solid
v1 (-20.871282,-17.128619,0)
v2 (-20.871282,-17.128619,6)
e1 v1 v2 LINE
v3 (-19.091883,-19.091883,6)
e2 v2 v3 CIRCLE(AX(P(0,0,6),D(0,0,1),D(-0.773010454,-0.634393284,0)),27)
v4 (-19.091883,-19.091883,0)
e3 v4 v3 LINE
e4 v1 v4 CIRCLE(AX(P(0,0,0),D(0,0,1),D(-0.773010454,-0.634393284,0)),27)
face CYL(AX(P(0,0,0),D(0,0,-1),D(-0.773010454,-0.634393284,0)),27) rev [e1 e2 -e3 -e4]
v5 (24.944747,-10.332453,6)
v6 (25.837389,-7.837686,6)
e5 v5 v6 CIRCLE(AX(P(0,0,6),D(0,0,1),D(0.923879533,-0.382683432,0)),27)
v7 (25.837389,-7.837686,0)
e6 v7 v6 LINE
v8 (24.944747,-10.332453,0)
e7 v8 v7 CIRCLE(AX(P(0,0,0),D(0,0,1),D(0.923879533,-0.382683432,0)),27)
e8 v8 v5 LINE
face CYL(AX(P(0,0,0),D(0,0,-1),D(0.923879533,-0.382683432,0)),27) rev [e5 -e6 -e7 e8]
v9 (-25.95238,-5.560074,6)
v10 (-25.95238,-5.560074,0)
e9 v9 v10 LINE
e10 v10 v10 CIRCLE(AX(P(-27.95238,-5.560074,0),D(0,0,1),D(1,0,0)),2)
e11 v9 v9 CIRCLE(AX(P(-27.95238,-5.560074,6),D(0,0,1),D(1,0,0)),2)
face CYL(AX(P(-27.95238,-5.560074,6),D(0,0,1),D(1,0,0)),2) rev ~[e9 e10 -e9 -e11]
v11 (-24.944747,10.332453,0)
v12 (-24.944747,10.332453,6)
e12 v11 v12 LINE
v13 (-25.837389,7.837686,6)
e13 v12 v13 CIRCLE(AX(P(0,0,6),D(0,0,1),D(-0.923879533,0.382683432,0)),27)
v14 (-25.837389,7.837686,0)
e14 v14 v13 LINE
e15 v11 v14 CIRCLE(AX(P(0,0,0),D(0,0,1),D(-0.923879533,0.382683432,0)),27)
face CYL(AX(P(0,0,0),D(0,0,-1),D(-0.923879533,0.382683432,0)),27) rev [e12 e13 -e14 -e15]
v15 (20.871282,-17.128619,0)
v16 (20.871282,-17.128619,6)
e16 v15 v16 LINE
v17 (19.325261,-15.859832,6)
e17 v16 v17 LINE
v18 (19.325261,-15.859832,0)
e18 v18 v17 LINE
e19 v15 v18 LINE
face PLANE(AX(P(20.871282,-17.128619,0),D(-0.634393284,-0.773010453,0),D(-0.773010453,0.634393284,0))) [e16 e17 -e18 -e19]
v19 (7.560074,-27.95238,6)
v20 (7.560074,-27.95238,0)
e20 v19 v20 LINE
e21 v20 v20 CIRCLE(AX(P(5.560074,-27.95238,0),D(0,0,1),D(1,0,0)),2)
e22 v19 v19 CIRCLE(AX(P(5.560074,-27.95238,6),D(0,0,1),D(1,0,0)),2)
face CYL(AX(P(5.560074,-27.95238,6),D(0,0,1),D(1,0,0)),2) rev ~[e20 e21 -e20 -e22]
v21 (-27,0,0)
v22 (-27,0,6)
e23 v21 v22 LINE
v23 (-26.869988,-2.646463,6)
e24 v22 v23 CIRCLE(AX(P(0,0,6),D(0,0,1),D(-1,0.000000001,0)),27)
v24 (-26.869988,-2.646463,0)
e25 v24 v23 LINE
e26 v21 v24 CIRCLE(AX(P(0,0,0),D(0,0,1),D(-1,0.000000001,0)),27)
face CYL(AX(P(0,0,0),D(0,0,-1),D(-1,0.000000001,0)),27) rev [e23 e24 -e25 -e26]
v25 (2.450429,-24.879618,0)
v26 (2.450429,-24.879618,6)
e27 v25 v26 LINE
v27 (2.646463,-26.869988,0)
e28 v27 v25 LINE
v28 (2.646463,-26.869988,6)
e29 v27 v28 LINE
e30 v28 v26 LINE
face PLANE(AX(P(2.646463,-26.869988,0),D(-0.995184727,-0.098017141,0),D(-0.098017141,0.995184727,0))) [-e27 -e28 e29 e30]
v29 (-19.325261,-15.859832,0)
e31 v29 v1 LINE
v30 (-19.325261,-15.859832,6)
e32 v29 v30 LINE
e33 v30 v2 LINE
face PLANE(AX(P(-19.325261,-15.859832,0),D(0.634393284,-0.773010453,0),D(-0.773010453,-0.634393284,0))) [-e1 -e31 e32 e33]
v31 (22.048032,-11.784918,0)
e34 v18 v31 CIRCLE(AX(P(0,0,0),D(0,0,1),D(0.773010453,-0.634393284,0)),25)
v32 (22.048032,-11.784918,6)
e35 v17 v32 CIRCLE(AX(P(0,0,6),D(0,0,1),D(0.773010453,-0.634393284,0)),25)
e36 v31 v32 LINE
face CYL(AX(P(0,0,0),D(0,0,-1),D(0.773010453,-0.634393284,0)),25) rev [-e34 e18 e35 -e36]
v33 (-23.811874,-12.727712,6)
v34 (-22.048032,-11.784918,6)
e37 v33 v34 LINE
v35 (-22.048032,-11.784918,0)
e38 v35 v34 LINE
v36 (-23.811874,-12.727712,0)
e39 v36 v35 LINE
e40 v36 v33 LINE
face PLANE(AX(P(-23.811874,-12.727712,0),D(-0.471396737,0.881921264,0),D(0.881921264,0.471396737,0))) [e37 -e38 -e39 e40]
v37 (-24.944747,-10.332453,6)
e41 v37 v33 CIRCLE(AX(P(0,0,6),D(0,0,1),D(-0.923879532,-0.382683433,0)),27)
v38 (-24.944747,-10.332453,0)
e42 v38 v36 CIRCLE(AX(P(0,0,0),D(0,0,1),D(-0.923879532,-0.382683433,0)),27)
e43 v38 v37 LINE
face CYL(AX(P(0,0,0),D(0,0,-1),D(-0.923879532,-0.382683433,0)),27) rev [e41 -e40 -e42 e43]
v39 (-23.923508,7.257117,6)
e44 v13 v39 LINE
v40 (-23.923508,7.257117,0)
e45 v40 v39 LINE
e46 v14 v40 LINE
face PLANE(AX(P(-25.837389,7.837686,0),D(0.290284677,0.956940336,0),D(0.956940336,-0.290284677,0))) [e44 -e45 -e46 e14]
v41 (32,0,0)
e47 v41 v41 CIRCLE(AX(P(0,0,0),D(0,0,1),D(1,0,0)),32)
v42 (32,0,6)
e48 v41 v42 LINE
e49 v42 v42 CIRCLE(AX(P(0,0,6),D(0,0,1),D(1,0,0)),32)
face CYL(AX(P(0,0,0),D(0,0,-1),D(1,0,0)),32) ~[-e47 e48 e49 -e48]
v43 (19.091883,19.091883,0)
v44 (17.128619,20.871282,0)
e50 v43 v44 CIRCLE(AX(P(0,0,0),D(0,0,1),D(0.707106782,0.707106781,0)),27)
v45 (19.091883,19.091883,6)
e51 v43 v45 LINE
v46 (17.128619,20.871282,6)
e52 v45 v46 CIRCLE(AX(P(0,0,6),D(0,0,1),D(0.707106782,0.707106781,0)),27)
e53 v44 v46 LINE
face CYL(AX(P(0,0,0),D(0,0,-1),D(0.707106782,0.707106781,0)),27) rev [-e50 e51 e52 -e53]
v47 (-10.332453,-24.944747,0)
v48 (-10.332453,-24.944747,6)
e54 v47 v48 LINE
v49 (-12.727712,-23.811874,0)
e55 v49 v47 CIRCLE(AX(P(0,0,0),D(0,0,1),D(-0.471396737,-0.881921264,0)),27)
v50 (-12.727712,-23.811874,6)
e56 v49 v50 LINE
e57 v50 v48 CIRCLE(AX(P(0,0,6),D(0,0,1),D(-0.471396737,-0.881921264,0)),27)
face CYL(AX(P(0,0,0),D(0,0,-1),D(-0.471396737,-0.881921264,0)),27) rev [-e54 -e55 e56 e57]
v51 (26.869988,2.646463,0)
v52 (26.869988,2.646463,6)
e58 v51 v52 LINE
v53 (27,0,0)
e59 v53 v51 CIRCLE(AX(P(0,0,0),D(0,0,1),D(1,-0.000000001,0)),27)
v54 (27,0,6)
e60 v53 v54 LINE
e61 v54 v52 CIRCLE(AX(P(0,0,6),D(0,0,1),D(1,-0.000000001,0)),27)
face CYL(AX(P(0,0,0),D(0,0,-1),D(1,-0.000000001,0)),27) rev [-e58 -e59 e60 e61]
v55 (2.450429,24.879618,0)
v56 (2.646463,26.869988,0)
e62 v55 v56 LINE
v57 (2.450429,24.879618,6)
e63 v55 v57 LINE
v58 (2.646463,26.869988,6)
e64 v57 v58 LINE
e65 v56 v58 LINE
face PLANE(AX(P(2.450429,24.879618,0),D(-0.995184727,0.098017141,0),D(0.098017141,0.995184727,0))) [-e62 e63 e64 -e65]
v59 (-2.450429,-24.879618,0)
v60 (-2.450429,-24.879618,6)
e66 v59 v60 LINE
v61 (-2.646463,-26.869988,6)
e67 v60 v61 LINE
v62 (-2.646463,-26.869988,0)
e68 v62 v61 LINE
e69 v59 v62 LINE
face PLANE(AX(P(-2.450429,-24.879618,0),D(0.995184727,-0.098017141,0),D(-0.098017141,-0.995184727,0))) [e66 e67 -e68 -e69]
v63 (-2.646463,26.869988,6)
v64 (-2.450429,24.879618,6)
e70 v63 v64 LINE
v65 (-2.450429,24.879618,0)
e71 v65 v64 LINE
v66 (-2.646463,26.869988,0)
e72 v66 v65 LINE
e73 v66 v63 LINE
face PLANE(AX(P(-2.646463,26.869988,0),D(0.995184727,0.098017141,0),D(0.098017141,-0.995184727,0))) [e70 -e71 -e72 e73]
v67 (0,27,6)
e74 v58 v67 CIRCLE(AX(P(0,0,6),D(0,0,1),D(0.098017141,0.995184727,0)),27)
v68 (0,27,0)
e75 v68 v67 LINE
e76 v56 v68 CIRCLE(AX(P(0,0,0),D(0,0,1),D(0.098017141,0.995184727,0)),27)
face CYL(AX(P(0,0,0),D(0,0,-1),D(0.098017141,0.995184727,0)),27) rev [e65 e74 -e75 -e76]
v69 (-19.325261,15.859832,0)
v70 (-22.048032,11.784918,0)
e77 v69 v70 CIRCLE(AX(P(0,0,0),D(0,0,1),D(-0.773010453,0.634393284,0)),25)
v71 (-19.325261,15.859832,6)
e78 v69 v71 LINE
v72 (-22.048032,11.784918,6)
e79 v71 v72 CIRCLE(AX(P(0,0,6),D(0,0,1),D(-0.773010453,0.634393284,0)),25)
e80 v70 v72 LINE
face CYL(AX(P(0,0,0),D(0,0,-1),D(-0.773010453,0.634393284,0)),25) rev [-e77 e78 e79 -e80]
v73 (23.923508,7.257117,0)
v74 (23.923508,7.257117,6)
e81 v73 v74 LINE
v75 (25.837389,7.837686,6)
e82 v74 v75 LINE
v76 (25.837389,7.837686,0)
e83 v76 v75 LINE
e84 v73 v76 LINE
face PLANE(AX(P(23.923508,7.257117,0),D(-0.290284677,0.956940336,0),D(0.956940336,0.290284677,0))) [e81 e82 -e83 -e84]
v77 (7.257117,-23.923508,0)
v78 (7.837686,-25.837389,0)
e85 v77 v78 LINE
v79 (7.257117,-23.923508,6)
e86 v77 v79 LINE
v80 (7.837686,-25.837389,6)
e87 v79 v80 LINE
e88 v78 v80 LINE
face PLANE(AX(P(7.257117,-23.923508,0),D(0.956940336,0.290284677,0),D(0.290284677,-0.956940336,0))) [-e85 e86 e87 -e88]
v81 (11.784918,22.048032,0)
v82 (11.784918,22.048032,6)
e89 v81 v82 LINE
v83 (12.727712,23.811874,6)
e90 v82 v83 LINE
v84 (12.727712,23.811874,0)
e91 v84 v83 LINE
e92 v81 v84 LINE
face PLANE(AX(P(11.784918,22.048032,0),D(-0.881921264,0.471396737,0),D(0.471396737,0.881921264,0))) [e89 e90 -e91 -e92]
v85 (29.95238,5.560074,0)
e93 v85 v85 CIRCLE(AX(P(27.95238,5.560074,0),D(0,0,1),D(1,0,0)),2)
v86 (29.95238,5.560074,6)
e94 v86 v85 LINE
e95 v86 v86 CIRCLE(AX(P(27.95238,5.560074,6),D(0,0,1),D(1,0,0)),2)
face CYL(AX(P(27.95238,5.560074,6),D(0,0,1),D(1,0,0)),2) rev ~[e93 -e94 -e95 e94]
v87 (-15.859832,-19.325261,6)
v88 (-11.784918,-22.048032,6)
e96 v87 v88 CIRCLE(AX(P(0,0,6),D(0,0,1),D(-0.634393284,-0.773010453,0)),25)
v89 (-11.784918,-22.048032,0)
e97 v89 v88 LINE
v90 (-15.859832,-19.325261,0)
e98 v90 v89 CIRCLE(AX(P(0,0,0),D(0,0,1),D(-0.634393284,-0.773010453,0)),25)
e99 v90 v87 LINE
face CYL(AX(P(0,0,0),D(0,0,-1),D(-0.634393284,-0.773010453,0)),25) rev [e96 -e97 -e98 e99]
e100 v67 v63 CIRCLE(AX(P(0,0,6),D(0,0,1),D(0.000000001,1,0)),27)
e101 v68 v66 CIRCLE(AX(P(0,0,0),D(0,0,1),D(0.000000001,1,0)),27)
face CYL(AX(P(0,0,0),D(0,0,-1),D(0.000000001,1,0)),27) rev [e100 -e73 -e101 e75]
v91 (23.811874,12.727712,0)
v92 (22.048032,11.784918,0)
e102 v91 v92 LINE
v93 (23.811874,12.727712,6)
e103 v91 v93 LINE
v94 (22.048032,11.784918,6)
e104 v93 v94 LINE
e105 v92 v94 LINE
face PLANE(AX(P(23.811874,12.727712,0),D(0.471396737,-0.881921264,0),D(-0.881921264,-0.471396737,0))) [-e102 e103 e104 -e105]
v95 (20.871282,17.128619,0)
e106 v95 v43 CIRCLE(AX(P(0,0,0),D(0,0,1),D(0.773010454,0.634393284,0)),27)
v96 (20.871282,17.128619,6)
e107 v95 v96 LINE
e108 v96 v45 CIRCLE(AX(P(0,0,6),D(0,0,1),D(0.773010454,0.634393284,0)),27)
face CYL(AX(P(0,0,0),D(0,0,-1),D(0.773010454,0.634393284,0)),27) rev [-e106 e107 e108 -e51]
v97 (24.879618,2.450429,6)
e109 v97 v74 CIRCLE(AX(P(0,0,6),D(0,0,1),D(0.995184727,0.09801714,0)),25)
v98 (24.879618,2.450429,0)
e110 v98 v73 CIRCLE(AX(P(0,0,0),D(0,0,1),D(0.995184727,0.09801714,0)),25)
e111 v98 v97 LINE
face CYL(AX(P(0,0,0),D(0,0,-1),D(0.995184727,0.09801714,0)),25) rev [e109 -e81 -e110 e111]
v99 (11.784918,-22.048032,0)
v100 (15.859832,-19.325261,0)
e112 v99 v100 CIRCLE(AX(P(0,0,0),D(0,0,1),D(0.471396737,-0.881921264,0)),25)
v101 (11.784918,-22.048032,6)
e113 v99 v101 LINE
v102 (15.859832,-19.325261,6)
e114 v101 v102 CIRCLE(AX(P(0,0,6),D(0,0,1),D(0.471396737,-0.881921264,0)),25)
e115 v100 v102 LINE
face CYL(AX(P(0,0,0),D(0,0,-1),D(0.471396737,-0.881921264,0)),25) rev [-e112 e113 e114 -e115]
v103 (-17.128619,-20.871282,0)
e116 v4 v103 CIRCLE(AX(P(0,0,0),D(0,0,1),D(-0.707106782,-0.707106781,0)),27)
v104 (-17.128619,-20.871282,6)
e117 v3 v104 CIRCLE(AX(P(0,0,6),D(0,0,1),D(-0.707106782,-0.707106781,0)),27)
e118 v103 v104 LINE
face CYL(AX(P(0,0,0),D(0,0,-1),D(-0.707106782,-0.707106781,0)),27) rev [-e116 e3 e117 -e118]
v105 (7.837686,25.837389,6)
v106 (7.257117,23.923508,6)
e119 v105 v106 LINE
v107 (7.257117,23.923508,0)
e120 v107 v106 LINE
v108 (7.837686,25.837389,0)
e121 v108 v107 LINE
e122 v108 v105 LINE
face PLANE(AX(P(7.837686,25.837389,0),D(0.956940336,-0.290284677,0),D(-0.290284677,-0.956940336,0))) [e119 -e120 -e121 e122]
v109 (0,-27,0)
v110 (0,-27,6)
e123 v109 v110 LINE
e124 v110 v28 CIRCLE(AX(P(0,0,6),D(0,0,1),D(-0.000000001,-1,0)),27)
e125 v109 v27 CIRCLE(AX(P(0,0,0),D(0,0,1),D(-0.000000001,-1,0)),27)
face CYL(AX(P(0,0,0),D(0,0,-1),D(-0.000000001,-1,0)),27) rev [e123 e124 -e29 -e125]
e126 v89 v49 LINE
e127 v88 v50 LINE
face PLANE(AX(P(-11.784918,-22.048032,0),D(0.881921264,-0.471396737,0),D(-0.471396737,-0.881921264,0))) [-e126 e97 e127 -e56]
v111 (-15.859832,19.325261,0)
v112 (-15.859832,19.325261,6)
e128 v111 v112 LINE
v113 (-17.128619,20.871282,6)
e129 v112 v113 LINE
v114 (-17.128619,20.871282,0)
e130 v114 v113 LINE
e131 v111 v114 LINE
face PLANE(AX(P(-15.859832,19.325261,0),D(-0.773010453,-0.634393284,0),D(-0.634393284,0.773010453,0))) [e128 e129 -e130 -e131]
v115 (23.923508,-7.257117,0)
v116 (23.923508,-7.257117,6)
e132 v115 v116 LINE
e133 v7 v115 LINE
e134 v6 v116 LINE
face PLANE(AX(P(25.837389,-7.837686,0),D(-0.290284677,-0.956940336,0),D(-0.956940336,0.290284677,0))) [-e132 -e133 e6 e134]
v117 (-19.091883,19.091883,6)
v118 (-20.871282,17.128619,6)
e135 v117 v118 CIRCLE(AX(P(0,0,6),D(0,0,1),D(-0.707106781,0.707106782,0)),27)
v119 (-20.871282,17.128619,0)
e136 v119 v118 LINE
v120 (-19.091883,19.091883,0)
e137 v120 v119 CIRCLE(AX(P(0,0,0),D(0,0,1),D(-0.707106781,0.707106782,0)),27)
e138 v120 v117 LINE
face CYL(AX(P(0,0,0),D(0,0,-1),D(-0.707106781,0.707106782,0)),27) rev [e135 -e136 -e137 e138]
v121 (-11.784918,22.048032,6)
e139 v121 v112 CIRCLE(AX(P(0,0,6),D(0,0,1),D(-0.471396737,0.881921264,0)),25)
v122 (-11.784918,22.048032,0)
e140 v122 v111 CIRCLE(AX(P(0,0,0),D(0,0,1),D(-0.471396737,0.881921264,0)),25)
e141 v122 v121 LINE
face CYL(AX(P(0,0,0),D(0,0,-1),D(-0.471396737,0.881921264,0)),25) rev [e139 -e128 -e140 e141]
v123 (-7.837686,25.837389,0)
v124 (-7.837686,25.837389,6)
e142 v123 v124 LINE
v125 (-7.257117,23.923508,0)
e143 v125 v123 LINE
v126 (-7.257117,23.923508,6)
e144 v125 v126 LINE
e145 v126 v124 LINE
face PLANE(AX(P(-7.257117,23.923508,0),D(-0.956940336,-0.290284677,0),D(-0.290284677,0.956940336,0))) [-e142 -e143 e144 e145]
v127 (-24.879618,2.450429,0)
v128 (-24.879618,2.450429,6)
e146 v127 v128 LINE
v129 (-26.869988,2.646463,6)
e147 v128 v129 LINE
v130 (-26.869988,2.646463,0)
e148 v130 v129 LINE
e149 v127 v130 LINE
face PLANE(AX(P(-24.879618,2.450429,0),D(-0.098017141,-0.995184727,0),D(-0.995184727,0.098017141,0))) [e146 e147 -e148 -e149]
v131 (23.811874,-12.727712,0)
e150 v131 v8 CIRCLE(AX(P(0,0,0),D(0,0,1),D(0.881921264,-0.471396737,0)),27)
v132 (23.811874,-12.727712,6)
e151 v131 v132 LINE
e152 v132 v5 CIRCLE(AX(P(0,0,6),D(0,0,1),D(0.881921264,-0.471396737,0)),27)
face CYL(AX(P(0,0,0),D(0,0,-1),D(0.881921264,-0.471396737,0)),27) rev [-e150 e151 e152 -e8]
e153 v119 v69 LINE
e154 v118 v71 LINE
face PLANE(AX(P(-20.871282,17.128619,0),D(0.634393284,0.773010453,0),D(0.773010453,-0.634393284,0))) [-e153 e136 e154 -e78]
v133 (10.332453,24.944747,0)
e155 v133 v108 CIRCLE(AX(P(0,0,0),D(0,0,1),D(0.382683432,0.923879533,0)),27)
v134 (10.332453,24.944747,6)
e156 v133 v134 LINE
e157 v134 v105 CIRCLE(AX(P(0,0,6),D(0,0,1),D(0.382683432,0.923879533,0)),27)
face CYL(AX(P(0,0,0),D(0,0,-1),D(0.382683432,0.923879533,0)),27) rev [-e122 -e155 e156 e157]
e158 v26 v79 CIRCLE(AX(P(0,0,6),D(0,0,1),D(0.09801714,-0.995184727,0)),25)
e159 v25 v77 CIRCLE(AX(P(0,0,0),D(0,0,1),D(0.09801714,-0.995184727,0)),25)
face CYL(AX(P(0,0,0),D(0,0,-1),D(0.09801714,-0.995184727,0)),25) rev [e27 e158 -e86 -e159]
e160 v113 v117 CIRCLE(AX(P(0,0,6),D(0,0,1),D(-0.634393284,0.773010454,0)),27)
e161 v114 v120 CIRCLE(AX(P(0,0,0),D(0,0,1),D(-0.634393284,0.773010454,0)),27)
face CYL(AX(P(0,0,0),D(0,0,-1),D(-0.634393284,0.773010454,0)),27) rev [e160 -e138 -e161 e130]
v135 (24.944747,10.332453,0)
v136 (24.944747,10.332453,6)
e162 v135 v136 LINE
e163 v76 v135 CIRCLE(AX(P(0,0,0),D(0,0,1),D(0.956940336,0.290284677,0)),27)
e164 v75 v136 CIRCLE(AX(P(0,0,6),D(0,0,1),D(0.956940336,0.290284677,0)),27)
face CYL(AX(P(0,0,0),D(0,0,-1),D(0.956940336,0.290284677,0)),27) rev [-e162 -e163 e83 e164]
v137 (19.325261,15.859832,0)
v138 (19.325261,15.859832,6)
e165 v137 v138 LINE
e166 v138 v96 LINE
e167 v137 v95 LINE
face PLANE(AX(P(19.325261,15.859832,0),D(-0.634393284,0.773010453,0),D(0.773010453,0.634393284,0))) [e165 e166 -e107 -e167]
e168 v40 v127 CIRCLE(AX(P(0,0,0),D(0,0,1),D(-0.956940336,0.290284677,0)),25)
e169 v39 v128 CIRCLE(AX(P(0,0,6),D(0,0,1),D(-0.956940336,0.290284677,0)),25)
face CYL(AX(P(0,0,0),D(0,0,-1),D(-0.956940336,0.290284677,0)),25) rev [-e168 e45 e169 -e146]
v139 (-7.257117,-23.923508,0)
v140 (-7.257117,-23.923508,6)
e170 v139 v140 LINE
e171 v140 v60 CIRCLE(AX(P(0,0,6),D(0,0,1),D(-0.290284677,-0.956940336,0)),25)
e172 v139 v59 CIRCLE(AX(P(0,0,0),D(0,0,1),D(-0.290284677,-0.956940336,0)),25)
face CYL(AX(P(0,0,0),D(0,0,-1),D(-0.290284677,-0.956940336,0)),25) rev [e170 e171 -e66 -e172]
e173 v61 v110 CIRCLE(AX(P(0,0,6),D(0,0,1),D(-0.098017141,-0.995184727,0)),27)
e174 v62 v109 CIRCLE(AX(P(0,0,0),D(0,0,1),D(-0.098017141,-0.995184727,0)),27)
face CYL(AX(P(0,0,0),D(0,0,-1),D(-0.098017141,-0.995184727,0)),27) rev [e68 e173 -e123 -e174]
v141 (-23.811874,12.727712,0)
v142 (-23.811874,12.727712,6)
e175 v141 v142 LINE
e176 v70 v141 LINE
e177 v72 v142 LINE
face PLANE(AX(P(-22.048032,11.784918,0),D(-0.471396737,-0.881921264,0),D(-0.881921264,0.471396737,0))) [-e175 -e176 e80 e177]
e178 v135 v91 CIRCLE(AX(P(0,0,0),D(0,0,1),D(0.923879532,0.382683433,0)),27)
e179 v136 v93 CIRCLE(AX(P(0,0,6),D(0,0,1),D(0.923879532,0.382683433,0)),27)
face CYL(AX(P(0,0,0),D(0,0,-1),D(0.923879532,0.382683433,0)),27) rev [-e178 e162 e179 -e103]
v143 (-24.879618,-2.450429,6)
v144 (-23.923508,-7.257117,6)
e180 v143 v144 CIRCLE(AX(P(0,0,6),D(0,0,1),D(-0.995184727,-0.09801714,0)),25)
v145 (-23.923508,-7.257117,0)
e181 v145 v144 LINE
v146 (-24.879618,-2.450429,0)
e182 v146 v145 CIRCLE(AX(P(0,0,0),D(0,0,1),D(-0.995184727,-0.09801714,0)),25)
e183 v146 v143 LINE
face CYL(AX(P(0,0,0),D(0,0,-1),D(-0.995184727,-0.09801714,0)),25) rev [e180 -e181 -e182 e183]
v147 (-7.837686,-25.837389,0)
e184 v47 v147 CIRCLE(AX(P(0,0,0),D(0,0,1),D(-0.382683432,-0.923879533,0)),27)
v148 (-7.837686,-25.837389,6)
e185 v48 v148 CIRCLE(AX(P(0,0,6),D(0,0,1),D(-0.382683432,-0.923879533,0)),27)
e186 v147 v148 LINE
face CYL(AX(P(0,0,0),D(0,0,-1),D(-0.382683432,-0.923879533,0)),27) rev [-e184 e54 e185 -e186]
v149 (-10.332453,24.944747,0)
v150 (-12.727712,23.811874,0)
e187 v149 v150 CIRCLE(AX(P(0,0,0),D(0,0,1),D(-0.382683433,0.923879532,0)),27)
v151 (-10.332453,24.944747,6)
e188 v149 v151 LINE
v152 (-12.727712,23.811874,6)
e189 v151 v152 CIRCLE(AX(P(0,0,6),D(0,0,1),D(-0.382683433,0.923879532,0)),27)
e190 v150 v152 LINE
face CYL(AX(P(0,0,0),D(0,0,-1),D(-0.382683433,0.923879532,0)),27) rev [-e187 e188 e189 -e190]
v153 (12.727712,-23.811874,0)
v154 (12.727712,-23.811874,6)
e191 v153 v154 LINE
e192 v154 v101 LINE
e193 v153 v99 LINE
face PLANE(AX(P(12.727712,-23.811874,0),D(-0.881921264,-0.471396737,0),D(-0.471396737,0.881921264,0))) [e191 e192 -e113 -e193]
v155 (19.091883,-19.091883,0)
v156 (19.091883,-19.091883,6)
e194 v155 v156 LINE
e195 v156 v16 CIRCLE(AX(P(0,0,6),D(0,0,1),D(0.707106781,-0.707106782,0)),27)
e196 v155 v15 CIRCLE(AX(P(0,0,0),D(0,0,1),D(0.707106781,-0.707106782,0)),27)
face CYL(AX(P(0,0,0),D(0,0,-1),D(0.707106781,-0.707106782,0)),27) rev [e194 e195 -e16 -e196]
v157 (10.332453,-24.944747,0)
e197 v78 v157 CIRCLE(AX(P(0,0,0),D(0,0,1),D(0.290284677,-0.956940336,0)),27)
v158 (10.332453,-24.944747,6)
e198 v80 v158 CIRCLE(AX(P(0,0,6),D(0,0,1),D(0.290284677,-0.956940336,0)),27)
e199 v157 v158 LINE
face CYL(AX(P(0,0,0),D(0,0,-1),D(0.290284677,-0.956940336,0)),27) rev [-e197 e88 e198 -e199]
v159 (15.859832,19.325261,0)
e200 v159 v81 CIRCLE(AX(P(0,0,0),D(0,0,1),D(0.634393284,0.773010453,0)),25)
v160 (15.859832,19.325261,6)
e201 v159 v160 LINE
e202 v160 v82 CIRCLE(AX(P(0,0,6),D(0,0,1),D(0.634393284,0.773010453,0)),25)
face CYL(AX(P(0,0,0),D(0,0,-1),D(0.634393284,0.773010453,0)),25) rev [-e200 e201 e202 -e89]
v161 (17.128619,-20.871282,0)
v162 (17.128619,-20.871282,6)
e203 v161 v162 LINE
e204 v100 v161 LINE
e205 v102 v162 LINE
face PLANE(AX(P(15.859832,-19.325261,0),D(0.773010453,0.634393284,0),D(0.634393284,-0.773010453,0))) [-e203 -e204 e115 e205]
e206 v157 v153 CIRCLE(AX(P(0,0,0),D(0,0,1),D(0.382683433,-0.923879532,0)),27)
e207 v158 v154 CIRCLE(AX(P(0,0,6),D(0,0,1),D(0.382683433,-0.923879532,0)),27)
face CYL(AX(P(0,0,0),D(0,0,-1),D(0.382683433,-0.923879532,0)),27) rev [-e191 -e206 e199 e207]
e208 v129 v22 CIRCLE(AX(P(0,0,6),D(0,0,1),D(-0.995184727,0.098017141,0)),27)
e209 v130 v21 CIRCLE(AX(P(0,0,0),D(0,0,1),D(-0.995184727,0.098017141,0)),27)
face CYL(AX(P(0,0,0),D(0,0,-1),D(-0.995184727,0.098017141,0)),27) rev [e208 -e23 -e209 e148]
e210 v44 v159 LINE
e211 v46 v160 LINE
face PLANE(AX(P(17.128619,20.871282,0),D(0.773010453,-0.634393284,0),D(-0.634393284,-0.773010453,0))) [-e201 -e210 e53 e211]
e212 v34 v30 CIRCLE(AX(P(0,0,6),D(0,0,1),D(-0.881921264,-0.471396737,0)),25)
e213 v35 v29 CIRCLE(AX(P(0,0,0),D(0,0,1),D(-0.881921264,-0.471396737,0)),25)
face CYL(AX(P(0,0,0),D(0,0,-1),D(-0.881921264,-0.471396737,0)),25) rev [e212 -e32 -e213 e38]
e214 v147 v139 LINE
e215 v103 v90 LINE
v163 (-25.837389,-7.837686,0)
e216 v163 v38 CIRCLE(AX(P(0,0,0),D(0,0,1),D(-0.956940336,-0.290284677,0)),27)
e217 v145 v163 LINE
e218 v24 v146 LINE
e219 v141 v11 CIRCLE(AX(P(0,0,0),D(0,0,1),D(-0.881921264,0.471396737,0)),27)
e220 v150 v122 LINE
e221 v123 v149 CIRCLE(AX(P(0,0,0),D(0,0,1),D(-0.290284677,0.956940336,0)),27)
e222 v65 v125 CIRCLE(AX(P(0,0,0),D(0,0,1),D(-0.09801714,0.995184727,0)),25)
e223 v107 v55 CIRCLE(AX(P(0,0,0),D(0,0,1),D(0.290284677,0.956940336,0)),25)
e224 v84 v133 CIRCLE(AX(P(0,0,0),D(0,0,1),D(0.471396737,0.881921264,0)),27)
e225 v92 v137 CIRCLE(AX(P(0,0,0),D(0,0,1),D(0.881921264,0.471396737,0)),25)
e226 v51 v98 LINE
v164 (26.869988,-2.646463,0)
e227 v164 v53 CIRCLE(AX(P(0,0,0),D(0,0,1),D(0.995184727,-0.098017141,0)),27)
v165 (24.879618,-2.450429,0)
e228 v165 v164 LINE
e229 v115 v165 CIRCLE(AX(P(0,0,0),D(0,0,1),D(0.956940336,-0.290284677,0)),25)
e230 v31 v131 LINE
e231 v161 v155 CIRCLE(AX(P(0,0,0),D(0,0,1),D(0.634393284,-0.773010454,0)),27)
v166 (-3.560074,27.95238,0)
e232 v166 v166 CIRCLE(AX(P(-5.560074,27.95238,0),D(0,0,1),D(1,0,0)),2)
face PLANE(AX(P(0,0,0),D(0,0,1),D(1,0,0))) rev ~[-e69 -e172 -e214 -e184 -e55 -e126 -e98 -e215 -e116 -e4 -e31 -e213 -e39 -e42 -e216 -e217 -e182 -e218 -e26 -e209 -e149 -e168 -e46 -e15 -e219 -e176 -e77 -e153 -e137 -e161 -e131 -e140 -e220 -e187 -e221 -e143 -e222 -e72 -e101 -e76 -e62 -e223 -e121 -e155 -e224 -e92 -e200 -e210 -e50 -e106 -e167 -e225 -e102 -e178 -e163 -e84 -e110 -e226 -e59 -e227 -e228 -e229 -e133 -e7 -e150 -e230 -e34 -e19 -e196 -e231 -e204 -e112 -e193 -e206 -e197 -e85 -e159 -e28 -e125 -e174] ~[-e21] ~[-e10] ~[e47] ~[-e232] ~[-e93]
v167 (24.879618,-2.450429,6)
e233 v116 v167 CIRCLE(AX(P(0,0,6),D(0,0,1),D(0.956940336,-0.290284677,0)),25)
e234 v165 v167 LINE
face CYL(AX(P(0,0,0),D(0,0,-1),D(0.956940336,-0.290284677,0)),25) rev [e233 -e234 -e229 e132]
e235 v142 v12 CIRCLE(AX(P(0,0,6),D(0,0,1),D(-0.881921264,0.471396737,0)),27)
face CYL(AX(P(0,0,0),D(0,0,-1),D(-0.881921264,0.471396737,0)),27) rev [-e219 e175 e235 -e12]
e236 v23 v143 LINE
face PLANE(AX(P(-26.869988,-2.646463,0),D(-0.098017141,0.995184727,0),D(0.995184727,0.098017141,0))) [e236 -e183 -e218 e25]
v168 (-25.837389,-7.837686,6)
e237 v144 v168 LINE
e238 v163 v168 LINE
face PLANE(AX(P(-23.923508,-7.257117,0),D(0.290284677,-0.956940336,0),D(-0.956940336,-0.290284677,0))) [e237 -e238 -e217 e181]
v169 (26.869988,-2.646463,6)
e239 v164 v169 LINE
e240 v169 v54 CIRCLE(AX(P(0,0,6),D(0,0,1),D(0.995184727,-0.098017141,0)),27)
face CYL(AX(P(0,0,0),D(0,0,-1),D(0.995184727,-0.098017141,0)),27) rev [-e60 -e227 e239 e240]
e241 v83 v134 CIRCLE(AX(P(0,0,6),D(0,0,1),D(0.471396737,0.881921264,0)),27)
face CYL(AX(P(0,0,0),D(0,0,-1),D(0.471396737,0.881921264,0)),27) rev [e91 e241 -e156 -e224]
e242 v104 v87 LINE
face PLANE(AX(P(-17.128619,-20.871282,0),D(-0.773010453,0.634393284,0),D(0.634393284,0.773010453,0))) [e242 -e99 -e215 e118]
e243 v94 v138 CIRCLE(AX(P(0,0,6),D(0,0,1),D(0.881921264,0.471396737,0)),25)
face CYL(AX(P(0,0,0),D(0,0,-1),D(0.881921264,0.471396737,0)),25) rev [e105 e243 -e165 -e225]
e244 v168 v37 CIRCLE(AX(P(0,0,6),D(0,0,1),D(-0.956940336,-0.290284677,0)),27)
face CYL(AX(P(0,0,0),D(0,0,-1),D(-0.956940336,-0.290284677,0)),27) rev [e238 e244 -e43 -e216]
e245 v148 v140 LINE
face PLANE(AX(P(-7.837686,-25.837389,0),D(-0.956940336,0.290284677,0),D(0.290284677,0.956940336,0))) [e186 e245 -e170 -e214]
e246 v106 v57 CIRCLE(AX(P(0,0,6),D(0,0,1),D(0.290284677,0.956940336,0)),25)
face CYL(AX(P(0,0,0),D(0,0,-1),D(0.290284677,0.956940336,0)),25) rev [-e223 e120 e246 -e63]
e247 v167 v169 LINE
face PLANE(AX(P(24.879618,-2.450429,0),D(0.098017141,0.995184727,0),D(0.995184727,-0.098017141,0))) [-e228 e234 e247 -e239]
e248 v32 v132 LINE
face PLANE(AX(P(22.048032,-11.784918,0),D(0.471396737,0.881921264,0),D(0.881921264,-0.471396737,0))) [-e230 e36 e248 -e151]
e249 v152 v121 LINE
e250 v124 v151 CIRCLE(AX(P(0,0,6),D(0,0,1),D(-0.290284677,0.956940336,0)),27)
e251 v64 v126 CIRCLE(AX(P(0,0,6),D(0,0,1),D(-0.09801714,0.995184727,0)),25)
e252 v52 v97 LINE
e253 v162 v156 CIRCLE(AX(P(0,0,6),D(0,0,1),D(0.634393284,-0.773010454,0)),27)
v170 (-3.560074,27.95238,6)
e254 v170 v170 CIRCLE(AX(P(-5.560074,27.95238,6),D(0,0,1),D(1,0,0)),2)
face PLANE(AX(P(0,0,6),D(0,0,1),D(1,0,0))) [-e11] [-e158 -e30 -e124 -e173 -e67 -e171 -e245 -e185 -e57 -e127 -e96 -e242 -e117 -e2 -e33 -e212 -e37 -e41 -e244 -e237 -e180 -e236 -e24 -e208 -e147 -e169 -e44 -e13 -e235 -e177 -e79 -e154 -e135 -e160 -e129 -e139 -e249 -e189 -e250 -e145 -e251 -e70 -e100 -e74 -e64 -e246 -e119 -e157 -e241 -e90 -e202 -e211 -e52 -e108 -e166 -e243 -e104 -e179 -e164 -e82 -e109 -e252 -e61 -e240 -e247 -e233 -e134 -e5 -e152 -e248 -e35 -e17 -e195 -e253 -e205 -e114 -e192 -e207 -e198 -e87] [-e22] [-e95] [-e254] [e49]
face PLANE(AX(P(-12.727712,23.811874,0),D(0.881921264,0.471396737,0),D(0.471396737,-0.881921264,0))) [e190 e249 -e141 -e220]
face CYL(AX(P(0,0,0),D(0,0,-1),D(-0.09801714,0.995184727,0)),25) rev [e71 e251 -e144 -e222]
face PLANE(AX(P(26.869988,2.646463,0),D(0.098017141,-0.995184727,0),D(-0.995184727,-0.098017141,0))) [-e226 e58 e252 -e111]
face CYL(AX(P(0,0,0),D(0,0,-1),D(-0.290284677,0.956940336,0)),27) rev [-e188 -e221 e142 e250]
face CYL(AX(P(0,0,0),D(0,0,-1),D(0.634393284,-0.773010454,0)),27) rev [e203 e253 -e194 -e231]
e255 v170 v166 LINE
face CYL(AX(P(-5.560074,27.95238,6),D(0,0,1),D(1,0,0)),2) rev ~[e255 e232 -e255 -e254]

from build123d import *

# Parameters (mm, degrees)
ESBO_O1_R                = 32
RESSALTO_EXTRUS_O4_DEPTH = 6
ESBO_O2_R                = 2
CORTE_EXTRUS_O1_DEPTH    = 6


with BuildPart() as part:
    # Esboço1 → Ressalto-extrusão4 (new body)
    with BuildSketch(Plane.XY):
        Circle(ESBO_O1_R)
        with BuildLine():
            Line((-2.646462789, 26.86998762), (-2.450428508, 24.879618167))
            ThreePointArc((-2.450428508, 24.879618167), (-4.87725805, 24.51963201), (-7.257116931, 23.923508393))
            Line((-7.257116931, 23.923508393), (-7.837686286, 25.837389065))
            ThreePointArc((-7.837686286, 25.837389065), (-9.096026042, 25.42168976), (-10.332452674, 24.944747378))
            ThreePointArc((-10.332452674, 24.944747378), (-11.543987523, 24.407710914), (-12.727711894, 23.811874137))
            Line((-12.727711894, 23.811874137), (-11.784918421, 22.048031609))
            ThreePointArc((-11.784918421, 22.048031609), (-13.889255825, 20.786740308), (-15.859832104, 19.325261334))
            Line((-15.859832104, 19.325261334), (-17.128618672, 20.871282241))
            ThreePointArc((-17.128618672, 20.871282241), (-18.132091781, 20.005680385), (-19.091883092, 19.091883092))
            ThreePointArc((-19.091883092, 19.091883092), (-20.005680385, 18.132091781), (-20.871282241, 17.128618672))
            Line((-20.871282241, 17.128618672), (-19.325261334, 15.859832104))
            ThreePointArc((-19.325261334, 15.859832104), (-20.786740308, 13.889255825), (-22.048031609, 11.784918421))
            Line((-22.048031609, 11.784918421), (-23.811874137, 12.727711894))
            ThreePointArc((-23.811874137, 12.727711894), (-24.407710914, 11.543987523), (-24.944747378, 10.332452674))
            ThreePointArc((-24.944747378, 10.332452674), (-25.42168976, 9.096026042), (-25.837389065, 7.837686286))
            Line((-25.837389065, 7.837686286), (-23.923508393, 7.257116931))
            ThreePointArc((-23.923508393, 7.257116931), (-24.51963201, 4.87725805), (-24.879618167, 2.450428508))
            Line((-24.879618167, 2.450428508), (-26.86998762, 2.646462789))
            ThreePointArc((-26.86998762, 2.646462789), (-26.967477318, 1.324827207), (-27, 0))
            ThreePointArc((-27, 0), (-26.967477318, -1.324827207), (-26.86998762, -2.646462789))
            Line((-26.86998762, -2.646462789), (-24.879618167, -2.450428508))
            ThreePointArc((-24.879618167, -2.450428508), (-24.51963201, -4.87725805), (-23.923508393, -7.257116931))
            Line((-23.923508393, -7.257116931), (-25.837389065, -7.837686286))
            ThreePointArc((-25.837389065, -7.837686286), (-25.42168976, -9.096026042), (-24.944747378, -10.332452674))
            ThreePointArc((-24.944747378, -10.332452674), (-24.407710914, -11.543987523), (-23.811874137, -12.727711894))
            Line((-23.811874137, -12.727711894), (-22.048031609, -11.784918421))
            ThreePointArc((-22.048031609, -11.784918421), (-20.786740308, -13.889255825), (-19.325261334, -15.859832104))
            Line((-19.325261334, -15.859832104), (-20.871282241, -17.128618672))
            ThreePointArc((-20.871282241, -17.128618672), (-20.005680385, -18.132091781), (-19.091883092, -19.091883092))
            ThreePointArc((-19.091883092, -19.091883092), (-18.132091781, -20.005680385), (-17.128618672, -20.871282241))
            Line((-17.128618672, -20.871282241), (-15.859832104, -19.325261334))
            ThreePointArc((-15.859832104, -19.325261334), (-13.889255825, -20.786740308), (-11.784918421, -22.048031609))
            Line((-11.784918421, -22.048031609), (-12.727711894, -23.811874137))
            ThreePointArc((-12.727711894, -23.811874137), (-11.543987523, -24.407710914), (-10.332452674, -24.944747378))
            ThreePointArc((-10.332452674, -24.944747378), (-9.096026042, -25.42168976), (-7.837686286, -25.837389065))
            Line((-7.837686286, -25.837389065), (-7.257116931, -23.923508393))
            ThreePointArc((-7.257116931, -23.923508393), (-4.87725805, -24.51963201), (-2.450428508, -24.879618167))
            Line((-2.450428508, -24.879618167), (-2.646462789, -26.86998762))
            ThreePointArc((-2.646462789, -26.86998762), (-1.324827207, -26.967477318), (0, -27))
            ThreePointArc((0, -27), (1.324827207, -26.967477318), (2.646462789, -26.86998762))
            Line((2.646462789, -26.86998762), (2.450428508, -24.879618167))
            ThreePointArc((2.450428508, -24.879618167), (4.87725805, -24.51963201), (7.257116931, -23.923508393))
            Line((7.257116931, -23.923508393), (7.837686286, -25.837389065))
            ThreePointArc((7.837686286, -25.837389065), (9.096026042, -25.42168976), (10.332452674, -24.944747378))
            ThreePointArc((10.332452674, -24.944747378), (11.543987523, -24.407710914), (12.727711894, -23.811874137))
            Line((12.727711894, -23.811874137), (11.784918421, -22.048031609))
            ThreePointArc((11.784918421, -22.048031609), (13.889255825, -20.786740308), (15.859832104, -19.325261334))
            Line((15.859832104, -19.325261334), (17.128618672, -20.871282241))
            ThreePointArc((17.128618672, -20.871282241), (18.132091781, -20.005680385), (19.091883092, -19.091883092))
            ThreePointArc((19.091883092, -19.091883092), (20.005680385, -18.132091781), (20.871282241, -17.128618672))
            Line((20.871282241, -17.128618672), (19.325261334, -15.859832104))
            ThreePointArc((19.325261334, -15.859832104), (20.786740308, -13.889255825), (22.048031609, -11.784918421))
            Line((22.048031609, -11.784918421), (23.811874137, -12.727711894))
            ThreePointArc((23.811874137, -12.727711894), (24.407710914, -11.543987523), (24.944747378, -10.332452674))
            ThreePointArc((24.944747378, -10.332452674), (25.42168976, -9.096026042), (25.837389065, -7.837686286))
            Line((25.837389065, -7.837686286), (23.923508393, -7.257116931))
            ThreePointArc((23.923508393, -7.257116931), (24.51963201, -4.87725805), (24.879618167, -2.450428508))
            Line((24.879618167, -2.450428508), (26.86998762, -2.646462789))
            ThreePointArc((26.86998762, -2.646462789), (26.967477318, -1.324827207), (27, 0))
            ThreePointArc((27, 0), (26.967477318, 1.324827207), (26.86998762, 2.646462789))
            Line((26.86998762, 2.646462789), (24.879618167, 2.450428508))
            ThreePointArc((24.879618167, 2.450428508), (24.51963201, 4.87725805), (23.923508393, 7.257116931))
            Line((23.923508393, 7.257116931), (25.837389065, 7.837686286))
            ThreePointArc((25.837389065, 7.837686286), (25.42168976, 9.096026042), (24.944747378, 10.332452674))
            ThreePointArc((24.944747378, 10.332452674), (24.407710914, 11.543987523), (23.811874137, 12.727711894))
            Line((23.811874137, 12.727711894), (22.048031609, 11.784918421))
            ThreePointArc((22.048031609, 11.784918421), (20.786740308, 13.889255825), (19.325261334, 15.859832104))
            Line((19.325261334, 15.859832104), (20.871282241, 17.128618672))
            ThreePointArc((20.871282241, 17.128618672), (20.005680385, 18.132091781), (19.091883092, 19.091883092))
            ThreePointArc((19.091883092, 19.091883092), (18.132091781, 20.005680385), (17.128618672, 20.871282241))
            Line((17.128618672, 20.871282241), (15.859832104, 19.325261334))
            ThreePointArc((15.859832104, 19.325261334), (13.889255825, 20.786740308), (11.784918421, 22.048031609))
            Line((11.784918421, 22.048031609), (12.727711894, 23.811874137))
            ThreePointArc((12.727711894, 23.811874137), (11.543987523, 24.407710914), (10.332452674, 24.944747378))
            ThreePointArc((10.332452674, 24.944747378), (9.096026042, 25.42168976), (7.837686286, 25.837389065))
            Line((7.837686286, 25.837389065), (7.257116931, 23.923508393))
            ThreePointArc((7.257116931, 23.923508393), (4.87725805, 24.51963201), (2.450428508, 24.879618167))
            Line((2.450428508, 24.879618167), (2.646462789, 26.86998762))
            ThreePointArc((2.646462789, 26.86998762), (1.324827207, 26.967477318), (0, 27))
            ThreePointArc((0, 27), (-1.324827207, 26.967477318), (-2.646462789, 26.86998762))
        make_face(mode=Mode.SUBTRACT)
    extrude(amount=RESSALTO_EXTRUS_O4_DEPTH)

    # Esboço2 → Corte-extrusão1 (cut)
    with BuildSketch(Plane.XY.offset(6)):
        with Locations((-5.560074177, 27.952380491)):
            Circle(ESBO_O2_R)
        with Locations((5.560074177, -27.952380491)):
            Circle(ESBO_O2_R)
        with Locations((27.952380491, 5.560074177)):
            Circle(ESBO_O2_R)
        with Locations((-27.952380491, -5.560074177)):
            Circle(ESBO_O2_R)
    extrude(amount=-CORTE_EXTRUS_O1_DEPTH, mode=Mode.SUBTRACT)


solid = part.part
